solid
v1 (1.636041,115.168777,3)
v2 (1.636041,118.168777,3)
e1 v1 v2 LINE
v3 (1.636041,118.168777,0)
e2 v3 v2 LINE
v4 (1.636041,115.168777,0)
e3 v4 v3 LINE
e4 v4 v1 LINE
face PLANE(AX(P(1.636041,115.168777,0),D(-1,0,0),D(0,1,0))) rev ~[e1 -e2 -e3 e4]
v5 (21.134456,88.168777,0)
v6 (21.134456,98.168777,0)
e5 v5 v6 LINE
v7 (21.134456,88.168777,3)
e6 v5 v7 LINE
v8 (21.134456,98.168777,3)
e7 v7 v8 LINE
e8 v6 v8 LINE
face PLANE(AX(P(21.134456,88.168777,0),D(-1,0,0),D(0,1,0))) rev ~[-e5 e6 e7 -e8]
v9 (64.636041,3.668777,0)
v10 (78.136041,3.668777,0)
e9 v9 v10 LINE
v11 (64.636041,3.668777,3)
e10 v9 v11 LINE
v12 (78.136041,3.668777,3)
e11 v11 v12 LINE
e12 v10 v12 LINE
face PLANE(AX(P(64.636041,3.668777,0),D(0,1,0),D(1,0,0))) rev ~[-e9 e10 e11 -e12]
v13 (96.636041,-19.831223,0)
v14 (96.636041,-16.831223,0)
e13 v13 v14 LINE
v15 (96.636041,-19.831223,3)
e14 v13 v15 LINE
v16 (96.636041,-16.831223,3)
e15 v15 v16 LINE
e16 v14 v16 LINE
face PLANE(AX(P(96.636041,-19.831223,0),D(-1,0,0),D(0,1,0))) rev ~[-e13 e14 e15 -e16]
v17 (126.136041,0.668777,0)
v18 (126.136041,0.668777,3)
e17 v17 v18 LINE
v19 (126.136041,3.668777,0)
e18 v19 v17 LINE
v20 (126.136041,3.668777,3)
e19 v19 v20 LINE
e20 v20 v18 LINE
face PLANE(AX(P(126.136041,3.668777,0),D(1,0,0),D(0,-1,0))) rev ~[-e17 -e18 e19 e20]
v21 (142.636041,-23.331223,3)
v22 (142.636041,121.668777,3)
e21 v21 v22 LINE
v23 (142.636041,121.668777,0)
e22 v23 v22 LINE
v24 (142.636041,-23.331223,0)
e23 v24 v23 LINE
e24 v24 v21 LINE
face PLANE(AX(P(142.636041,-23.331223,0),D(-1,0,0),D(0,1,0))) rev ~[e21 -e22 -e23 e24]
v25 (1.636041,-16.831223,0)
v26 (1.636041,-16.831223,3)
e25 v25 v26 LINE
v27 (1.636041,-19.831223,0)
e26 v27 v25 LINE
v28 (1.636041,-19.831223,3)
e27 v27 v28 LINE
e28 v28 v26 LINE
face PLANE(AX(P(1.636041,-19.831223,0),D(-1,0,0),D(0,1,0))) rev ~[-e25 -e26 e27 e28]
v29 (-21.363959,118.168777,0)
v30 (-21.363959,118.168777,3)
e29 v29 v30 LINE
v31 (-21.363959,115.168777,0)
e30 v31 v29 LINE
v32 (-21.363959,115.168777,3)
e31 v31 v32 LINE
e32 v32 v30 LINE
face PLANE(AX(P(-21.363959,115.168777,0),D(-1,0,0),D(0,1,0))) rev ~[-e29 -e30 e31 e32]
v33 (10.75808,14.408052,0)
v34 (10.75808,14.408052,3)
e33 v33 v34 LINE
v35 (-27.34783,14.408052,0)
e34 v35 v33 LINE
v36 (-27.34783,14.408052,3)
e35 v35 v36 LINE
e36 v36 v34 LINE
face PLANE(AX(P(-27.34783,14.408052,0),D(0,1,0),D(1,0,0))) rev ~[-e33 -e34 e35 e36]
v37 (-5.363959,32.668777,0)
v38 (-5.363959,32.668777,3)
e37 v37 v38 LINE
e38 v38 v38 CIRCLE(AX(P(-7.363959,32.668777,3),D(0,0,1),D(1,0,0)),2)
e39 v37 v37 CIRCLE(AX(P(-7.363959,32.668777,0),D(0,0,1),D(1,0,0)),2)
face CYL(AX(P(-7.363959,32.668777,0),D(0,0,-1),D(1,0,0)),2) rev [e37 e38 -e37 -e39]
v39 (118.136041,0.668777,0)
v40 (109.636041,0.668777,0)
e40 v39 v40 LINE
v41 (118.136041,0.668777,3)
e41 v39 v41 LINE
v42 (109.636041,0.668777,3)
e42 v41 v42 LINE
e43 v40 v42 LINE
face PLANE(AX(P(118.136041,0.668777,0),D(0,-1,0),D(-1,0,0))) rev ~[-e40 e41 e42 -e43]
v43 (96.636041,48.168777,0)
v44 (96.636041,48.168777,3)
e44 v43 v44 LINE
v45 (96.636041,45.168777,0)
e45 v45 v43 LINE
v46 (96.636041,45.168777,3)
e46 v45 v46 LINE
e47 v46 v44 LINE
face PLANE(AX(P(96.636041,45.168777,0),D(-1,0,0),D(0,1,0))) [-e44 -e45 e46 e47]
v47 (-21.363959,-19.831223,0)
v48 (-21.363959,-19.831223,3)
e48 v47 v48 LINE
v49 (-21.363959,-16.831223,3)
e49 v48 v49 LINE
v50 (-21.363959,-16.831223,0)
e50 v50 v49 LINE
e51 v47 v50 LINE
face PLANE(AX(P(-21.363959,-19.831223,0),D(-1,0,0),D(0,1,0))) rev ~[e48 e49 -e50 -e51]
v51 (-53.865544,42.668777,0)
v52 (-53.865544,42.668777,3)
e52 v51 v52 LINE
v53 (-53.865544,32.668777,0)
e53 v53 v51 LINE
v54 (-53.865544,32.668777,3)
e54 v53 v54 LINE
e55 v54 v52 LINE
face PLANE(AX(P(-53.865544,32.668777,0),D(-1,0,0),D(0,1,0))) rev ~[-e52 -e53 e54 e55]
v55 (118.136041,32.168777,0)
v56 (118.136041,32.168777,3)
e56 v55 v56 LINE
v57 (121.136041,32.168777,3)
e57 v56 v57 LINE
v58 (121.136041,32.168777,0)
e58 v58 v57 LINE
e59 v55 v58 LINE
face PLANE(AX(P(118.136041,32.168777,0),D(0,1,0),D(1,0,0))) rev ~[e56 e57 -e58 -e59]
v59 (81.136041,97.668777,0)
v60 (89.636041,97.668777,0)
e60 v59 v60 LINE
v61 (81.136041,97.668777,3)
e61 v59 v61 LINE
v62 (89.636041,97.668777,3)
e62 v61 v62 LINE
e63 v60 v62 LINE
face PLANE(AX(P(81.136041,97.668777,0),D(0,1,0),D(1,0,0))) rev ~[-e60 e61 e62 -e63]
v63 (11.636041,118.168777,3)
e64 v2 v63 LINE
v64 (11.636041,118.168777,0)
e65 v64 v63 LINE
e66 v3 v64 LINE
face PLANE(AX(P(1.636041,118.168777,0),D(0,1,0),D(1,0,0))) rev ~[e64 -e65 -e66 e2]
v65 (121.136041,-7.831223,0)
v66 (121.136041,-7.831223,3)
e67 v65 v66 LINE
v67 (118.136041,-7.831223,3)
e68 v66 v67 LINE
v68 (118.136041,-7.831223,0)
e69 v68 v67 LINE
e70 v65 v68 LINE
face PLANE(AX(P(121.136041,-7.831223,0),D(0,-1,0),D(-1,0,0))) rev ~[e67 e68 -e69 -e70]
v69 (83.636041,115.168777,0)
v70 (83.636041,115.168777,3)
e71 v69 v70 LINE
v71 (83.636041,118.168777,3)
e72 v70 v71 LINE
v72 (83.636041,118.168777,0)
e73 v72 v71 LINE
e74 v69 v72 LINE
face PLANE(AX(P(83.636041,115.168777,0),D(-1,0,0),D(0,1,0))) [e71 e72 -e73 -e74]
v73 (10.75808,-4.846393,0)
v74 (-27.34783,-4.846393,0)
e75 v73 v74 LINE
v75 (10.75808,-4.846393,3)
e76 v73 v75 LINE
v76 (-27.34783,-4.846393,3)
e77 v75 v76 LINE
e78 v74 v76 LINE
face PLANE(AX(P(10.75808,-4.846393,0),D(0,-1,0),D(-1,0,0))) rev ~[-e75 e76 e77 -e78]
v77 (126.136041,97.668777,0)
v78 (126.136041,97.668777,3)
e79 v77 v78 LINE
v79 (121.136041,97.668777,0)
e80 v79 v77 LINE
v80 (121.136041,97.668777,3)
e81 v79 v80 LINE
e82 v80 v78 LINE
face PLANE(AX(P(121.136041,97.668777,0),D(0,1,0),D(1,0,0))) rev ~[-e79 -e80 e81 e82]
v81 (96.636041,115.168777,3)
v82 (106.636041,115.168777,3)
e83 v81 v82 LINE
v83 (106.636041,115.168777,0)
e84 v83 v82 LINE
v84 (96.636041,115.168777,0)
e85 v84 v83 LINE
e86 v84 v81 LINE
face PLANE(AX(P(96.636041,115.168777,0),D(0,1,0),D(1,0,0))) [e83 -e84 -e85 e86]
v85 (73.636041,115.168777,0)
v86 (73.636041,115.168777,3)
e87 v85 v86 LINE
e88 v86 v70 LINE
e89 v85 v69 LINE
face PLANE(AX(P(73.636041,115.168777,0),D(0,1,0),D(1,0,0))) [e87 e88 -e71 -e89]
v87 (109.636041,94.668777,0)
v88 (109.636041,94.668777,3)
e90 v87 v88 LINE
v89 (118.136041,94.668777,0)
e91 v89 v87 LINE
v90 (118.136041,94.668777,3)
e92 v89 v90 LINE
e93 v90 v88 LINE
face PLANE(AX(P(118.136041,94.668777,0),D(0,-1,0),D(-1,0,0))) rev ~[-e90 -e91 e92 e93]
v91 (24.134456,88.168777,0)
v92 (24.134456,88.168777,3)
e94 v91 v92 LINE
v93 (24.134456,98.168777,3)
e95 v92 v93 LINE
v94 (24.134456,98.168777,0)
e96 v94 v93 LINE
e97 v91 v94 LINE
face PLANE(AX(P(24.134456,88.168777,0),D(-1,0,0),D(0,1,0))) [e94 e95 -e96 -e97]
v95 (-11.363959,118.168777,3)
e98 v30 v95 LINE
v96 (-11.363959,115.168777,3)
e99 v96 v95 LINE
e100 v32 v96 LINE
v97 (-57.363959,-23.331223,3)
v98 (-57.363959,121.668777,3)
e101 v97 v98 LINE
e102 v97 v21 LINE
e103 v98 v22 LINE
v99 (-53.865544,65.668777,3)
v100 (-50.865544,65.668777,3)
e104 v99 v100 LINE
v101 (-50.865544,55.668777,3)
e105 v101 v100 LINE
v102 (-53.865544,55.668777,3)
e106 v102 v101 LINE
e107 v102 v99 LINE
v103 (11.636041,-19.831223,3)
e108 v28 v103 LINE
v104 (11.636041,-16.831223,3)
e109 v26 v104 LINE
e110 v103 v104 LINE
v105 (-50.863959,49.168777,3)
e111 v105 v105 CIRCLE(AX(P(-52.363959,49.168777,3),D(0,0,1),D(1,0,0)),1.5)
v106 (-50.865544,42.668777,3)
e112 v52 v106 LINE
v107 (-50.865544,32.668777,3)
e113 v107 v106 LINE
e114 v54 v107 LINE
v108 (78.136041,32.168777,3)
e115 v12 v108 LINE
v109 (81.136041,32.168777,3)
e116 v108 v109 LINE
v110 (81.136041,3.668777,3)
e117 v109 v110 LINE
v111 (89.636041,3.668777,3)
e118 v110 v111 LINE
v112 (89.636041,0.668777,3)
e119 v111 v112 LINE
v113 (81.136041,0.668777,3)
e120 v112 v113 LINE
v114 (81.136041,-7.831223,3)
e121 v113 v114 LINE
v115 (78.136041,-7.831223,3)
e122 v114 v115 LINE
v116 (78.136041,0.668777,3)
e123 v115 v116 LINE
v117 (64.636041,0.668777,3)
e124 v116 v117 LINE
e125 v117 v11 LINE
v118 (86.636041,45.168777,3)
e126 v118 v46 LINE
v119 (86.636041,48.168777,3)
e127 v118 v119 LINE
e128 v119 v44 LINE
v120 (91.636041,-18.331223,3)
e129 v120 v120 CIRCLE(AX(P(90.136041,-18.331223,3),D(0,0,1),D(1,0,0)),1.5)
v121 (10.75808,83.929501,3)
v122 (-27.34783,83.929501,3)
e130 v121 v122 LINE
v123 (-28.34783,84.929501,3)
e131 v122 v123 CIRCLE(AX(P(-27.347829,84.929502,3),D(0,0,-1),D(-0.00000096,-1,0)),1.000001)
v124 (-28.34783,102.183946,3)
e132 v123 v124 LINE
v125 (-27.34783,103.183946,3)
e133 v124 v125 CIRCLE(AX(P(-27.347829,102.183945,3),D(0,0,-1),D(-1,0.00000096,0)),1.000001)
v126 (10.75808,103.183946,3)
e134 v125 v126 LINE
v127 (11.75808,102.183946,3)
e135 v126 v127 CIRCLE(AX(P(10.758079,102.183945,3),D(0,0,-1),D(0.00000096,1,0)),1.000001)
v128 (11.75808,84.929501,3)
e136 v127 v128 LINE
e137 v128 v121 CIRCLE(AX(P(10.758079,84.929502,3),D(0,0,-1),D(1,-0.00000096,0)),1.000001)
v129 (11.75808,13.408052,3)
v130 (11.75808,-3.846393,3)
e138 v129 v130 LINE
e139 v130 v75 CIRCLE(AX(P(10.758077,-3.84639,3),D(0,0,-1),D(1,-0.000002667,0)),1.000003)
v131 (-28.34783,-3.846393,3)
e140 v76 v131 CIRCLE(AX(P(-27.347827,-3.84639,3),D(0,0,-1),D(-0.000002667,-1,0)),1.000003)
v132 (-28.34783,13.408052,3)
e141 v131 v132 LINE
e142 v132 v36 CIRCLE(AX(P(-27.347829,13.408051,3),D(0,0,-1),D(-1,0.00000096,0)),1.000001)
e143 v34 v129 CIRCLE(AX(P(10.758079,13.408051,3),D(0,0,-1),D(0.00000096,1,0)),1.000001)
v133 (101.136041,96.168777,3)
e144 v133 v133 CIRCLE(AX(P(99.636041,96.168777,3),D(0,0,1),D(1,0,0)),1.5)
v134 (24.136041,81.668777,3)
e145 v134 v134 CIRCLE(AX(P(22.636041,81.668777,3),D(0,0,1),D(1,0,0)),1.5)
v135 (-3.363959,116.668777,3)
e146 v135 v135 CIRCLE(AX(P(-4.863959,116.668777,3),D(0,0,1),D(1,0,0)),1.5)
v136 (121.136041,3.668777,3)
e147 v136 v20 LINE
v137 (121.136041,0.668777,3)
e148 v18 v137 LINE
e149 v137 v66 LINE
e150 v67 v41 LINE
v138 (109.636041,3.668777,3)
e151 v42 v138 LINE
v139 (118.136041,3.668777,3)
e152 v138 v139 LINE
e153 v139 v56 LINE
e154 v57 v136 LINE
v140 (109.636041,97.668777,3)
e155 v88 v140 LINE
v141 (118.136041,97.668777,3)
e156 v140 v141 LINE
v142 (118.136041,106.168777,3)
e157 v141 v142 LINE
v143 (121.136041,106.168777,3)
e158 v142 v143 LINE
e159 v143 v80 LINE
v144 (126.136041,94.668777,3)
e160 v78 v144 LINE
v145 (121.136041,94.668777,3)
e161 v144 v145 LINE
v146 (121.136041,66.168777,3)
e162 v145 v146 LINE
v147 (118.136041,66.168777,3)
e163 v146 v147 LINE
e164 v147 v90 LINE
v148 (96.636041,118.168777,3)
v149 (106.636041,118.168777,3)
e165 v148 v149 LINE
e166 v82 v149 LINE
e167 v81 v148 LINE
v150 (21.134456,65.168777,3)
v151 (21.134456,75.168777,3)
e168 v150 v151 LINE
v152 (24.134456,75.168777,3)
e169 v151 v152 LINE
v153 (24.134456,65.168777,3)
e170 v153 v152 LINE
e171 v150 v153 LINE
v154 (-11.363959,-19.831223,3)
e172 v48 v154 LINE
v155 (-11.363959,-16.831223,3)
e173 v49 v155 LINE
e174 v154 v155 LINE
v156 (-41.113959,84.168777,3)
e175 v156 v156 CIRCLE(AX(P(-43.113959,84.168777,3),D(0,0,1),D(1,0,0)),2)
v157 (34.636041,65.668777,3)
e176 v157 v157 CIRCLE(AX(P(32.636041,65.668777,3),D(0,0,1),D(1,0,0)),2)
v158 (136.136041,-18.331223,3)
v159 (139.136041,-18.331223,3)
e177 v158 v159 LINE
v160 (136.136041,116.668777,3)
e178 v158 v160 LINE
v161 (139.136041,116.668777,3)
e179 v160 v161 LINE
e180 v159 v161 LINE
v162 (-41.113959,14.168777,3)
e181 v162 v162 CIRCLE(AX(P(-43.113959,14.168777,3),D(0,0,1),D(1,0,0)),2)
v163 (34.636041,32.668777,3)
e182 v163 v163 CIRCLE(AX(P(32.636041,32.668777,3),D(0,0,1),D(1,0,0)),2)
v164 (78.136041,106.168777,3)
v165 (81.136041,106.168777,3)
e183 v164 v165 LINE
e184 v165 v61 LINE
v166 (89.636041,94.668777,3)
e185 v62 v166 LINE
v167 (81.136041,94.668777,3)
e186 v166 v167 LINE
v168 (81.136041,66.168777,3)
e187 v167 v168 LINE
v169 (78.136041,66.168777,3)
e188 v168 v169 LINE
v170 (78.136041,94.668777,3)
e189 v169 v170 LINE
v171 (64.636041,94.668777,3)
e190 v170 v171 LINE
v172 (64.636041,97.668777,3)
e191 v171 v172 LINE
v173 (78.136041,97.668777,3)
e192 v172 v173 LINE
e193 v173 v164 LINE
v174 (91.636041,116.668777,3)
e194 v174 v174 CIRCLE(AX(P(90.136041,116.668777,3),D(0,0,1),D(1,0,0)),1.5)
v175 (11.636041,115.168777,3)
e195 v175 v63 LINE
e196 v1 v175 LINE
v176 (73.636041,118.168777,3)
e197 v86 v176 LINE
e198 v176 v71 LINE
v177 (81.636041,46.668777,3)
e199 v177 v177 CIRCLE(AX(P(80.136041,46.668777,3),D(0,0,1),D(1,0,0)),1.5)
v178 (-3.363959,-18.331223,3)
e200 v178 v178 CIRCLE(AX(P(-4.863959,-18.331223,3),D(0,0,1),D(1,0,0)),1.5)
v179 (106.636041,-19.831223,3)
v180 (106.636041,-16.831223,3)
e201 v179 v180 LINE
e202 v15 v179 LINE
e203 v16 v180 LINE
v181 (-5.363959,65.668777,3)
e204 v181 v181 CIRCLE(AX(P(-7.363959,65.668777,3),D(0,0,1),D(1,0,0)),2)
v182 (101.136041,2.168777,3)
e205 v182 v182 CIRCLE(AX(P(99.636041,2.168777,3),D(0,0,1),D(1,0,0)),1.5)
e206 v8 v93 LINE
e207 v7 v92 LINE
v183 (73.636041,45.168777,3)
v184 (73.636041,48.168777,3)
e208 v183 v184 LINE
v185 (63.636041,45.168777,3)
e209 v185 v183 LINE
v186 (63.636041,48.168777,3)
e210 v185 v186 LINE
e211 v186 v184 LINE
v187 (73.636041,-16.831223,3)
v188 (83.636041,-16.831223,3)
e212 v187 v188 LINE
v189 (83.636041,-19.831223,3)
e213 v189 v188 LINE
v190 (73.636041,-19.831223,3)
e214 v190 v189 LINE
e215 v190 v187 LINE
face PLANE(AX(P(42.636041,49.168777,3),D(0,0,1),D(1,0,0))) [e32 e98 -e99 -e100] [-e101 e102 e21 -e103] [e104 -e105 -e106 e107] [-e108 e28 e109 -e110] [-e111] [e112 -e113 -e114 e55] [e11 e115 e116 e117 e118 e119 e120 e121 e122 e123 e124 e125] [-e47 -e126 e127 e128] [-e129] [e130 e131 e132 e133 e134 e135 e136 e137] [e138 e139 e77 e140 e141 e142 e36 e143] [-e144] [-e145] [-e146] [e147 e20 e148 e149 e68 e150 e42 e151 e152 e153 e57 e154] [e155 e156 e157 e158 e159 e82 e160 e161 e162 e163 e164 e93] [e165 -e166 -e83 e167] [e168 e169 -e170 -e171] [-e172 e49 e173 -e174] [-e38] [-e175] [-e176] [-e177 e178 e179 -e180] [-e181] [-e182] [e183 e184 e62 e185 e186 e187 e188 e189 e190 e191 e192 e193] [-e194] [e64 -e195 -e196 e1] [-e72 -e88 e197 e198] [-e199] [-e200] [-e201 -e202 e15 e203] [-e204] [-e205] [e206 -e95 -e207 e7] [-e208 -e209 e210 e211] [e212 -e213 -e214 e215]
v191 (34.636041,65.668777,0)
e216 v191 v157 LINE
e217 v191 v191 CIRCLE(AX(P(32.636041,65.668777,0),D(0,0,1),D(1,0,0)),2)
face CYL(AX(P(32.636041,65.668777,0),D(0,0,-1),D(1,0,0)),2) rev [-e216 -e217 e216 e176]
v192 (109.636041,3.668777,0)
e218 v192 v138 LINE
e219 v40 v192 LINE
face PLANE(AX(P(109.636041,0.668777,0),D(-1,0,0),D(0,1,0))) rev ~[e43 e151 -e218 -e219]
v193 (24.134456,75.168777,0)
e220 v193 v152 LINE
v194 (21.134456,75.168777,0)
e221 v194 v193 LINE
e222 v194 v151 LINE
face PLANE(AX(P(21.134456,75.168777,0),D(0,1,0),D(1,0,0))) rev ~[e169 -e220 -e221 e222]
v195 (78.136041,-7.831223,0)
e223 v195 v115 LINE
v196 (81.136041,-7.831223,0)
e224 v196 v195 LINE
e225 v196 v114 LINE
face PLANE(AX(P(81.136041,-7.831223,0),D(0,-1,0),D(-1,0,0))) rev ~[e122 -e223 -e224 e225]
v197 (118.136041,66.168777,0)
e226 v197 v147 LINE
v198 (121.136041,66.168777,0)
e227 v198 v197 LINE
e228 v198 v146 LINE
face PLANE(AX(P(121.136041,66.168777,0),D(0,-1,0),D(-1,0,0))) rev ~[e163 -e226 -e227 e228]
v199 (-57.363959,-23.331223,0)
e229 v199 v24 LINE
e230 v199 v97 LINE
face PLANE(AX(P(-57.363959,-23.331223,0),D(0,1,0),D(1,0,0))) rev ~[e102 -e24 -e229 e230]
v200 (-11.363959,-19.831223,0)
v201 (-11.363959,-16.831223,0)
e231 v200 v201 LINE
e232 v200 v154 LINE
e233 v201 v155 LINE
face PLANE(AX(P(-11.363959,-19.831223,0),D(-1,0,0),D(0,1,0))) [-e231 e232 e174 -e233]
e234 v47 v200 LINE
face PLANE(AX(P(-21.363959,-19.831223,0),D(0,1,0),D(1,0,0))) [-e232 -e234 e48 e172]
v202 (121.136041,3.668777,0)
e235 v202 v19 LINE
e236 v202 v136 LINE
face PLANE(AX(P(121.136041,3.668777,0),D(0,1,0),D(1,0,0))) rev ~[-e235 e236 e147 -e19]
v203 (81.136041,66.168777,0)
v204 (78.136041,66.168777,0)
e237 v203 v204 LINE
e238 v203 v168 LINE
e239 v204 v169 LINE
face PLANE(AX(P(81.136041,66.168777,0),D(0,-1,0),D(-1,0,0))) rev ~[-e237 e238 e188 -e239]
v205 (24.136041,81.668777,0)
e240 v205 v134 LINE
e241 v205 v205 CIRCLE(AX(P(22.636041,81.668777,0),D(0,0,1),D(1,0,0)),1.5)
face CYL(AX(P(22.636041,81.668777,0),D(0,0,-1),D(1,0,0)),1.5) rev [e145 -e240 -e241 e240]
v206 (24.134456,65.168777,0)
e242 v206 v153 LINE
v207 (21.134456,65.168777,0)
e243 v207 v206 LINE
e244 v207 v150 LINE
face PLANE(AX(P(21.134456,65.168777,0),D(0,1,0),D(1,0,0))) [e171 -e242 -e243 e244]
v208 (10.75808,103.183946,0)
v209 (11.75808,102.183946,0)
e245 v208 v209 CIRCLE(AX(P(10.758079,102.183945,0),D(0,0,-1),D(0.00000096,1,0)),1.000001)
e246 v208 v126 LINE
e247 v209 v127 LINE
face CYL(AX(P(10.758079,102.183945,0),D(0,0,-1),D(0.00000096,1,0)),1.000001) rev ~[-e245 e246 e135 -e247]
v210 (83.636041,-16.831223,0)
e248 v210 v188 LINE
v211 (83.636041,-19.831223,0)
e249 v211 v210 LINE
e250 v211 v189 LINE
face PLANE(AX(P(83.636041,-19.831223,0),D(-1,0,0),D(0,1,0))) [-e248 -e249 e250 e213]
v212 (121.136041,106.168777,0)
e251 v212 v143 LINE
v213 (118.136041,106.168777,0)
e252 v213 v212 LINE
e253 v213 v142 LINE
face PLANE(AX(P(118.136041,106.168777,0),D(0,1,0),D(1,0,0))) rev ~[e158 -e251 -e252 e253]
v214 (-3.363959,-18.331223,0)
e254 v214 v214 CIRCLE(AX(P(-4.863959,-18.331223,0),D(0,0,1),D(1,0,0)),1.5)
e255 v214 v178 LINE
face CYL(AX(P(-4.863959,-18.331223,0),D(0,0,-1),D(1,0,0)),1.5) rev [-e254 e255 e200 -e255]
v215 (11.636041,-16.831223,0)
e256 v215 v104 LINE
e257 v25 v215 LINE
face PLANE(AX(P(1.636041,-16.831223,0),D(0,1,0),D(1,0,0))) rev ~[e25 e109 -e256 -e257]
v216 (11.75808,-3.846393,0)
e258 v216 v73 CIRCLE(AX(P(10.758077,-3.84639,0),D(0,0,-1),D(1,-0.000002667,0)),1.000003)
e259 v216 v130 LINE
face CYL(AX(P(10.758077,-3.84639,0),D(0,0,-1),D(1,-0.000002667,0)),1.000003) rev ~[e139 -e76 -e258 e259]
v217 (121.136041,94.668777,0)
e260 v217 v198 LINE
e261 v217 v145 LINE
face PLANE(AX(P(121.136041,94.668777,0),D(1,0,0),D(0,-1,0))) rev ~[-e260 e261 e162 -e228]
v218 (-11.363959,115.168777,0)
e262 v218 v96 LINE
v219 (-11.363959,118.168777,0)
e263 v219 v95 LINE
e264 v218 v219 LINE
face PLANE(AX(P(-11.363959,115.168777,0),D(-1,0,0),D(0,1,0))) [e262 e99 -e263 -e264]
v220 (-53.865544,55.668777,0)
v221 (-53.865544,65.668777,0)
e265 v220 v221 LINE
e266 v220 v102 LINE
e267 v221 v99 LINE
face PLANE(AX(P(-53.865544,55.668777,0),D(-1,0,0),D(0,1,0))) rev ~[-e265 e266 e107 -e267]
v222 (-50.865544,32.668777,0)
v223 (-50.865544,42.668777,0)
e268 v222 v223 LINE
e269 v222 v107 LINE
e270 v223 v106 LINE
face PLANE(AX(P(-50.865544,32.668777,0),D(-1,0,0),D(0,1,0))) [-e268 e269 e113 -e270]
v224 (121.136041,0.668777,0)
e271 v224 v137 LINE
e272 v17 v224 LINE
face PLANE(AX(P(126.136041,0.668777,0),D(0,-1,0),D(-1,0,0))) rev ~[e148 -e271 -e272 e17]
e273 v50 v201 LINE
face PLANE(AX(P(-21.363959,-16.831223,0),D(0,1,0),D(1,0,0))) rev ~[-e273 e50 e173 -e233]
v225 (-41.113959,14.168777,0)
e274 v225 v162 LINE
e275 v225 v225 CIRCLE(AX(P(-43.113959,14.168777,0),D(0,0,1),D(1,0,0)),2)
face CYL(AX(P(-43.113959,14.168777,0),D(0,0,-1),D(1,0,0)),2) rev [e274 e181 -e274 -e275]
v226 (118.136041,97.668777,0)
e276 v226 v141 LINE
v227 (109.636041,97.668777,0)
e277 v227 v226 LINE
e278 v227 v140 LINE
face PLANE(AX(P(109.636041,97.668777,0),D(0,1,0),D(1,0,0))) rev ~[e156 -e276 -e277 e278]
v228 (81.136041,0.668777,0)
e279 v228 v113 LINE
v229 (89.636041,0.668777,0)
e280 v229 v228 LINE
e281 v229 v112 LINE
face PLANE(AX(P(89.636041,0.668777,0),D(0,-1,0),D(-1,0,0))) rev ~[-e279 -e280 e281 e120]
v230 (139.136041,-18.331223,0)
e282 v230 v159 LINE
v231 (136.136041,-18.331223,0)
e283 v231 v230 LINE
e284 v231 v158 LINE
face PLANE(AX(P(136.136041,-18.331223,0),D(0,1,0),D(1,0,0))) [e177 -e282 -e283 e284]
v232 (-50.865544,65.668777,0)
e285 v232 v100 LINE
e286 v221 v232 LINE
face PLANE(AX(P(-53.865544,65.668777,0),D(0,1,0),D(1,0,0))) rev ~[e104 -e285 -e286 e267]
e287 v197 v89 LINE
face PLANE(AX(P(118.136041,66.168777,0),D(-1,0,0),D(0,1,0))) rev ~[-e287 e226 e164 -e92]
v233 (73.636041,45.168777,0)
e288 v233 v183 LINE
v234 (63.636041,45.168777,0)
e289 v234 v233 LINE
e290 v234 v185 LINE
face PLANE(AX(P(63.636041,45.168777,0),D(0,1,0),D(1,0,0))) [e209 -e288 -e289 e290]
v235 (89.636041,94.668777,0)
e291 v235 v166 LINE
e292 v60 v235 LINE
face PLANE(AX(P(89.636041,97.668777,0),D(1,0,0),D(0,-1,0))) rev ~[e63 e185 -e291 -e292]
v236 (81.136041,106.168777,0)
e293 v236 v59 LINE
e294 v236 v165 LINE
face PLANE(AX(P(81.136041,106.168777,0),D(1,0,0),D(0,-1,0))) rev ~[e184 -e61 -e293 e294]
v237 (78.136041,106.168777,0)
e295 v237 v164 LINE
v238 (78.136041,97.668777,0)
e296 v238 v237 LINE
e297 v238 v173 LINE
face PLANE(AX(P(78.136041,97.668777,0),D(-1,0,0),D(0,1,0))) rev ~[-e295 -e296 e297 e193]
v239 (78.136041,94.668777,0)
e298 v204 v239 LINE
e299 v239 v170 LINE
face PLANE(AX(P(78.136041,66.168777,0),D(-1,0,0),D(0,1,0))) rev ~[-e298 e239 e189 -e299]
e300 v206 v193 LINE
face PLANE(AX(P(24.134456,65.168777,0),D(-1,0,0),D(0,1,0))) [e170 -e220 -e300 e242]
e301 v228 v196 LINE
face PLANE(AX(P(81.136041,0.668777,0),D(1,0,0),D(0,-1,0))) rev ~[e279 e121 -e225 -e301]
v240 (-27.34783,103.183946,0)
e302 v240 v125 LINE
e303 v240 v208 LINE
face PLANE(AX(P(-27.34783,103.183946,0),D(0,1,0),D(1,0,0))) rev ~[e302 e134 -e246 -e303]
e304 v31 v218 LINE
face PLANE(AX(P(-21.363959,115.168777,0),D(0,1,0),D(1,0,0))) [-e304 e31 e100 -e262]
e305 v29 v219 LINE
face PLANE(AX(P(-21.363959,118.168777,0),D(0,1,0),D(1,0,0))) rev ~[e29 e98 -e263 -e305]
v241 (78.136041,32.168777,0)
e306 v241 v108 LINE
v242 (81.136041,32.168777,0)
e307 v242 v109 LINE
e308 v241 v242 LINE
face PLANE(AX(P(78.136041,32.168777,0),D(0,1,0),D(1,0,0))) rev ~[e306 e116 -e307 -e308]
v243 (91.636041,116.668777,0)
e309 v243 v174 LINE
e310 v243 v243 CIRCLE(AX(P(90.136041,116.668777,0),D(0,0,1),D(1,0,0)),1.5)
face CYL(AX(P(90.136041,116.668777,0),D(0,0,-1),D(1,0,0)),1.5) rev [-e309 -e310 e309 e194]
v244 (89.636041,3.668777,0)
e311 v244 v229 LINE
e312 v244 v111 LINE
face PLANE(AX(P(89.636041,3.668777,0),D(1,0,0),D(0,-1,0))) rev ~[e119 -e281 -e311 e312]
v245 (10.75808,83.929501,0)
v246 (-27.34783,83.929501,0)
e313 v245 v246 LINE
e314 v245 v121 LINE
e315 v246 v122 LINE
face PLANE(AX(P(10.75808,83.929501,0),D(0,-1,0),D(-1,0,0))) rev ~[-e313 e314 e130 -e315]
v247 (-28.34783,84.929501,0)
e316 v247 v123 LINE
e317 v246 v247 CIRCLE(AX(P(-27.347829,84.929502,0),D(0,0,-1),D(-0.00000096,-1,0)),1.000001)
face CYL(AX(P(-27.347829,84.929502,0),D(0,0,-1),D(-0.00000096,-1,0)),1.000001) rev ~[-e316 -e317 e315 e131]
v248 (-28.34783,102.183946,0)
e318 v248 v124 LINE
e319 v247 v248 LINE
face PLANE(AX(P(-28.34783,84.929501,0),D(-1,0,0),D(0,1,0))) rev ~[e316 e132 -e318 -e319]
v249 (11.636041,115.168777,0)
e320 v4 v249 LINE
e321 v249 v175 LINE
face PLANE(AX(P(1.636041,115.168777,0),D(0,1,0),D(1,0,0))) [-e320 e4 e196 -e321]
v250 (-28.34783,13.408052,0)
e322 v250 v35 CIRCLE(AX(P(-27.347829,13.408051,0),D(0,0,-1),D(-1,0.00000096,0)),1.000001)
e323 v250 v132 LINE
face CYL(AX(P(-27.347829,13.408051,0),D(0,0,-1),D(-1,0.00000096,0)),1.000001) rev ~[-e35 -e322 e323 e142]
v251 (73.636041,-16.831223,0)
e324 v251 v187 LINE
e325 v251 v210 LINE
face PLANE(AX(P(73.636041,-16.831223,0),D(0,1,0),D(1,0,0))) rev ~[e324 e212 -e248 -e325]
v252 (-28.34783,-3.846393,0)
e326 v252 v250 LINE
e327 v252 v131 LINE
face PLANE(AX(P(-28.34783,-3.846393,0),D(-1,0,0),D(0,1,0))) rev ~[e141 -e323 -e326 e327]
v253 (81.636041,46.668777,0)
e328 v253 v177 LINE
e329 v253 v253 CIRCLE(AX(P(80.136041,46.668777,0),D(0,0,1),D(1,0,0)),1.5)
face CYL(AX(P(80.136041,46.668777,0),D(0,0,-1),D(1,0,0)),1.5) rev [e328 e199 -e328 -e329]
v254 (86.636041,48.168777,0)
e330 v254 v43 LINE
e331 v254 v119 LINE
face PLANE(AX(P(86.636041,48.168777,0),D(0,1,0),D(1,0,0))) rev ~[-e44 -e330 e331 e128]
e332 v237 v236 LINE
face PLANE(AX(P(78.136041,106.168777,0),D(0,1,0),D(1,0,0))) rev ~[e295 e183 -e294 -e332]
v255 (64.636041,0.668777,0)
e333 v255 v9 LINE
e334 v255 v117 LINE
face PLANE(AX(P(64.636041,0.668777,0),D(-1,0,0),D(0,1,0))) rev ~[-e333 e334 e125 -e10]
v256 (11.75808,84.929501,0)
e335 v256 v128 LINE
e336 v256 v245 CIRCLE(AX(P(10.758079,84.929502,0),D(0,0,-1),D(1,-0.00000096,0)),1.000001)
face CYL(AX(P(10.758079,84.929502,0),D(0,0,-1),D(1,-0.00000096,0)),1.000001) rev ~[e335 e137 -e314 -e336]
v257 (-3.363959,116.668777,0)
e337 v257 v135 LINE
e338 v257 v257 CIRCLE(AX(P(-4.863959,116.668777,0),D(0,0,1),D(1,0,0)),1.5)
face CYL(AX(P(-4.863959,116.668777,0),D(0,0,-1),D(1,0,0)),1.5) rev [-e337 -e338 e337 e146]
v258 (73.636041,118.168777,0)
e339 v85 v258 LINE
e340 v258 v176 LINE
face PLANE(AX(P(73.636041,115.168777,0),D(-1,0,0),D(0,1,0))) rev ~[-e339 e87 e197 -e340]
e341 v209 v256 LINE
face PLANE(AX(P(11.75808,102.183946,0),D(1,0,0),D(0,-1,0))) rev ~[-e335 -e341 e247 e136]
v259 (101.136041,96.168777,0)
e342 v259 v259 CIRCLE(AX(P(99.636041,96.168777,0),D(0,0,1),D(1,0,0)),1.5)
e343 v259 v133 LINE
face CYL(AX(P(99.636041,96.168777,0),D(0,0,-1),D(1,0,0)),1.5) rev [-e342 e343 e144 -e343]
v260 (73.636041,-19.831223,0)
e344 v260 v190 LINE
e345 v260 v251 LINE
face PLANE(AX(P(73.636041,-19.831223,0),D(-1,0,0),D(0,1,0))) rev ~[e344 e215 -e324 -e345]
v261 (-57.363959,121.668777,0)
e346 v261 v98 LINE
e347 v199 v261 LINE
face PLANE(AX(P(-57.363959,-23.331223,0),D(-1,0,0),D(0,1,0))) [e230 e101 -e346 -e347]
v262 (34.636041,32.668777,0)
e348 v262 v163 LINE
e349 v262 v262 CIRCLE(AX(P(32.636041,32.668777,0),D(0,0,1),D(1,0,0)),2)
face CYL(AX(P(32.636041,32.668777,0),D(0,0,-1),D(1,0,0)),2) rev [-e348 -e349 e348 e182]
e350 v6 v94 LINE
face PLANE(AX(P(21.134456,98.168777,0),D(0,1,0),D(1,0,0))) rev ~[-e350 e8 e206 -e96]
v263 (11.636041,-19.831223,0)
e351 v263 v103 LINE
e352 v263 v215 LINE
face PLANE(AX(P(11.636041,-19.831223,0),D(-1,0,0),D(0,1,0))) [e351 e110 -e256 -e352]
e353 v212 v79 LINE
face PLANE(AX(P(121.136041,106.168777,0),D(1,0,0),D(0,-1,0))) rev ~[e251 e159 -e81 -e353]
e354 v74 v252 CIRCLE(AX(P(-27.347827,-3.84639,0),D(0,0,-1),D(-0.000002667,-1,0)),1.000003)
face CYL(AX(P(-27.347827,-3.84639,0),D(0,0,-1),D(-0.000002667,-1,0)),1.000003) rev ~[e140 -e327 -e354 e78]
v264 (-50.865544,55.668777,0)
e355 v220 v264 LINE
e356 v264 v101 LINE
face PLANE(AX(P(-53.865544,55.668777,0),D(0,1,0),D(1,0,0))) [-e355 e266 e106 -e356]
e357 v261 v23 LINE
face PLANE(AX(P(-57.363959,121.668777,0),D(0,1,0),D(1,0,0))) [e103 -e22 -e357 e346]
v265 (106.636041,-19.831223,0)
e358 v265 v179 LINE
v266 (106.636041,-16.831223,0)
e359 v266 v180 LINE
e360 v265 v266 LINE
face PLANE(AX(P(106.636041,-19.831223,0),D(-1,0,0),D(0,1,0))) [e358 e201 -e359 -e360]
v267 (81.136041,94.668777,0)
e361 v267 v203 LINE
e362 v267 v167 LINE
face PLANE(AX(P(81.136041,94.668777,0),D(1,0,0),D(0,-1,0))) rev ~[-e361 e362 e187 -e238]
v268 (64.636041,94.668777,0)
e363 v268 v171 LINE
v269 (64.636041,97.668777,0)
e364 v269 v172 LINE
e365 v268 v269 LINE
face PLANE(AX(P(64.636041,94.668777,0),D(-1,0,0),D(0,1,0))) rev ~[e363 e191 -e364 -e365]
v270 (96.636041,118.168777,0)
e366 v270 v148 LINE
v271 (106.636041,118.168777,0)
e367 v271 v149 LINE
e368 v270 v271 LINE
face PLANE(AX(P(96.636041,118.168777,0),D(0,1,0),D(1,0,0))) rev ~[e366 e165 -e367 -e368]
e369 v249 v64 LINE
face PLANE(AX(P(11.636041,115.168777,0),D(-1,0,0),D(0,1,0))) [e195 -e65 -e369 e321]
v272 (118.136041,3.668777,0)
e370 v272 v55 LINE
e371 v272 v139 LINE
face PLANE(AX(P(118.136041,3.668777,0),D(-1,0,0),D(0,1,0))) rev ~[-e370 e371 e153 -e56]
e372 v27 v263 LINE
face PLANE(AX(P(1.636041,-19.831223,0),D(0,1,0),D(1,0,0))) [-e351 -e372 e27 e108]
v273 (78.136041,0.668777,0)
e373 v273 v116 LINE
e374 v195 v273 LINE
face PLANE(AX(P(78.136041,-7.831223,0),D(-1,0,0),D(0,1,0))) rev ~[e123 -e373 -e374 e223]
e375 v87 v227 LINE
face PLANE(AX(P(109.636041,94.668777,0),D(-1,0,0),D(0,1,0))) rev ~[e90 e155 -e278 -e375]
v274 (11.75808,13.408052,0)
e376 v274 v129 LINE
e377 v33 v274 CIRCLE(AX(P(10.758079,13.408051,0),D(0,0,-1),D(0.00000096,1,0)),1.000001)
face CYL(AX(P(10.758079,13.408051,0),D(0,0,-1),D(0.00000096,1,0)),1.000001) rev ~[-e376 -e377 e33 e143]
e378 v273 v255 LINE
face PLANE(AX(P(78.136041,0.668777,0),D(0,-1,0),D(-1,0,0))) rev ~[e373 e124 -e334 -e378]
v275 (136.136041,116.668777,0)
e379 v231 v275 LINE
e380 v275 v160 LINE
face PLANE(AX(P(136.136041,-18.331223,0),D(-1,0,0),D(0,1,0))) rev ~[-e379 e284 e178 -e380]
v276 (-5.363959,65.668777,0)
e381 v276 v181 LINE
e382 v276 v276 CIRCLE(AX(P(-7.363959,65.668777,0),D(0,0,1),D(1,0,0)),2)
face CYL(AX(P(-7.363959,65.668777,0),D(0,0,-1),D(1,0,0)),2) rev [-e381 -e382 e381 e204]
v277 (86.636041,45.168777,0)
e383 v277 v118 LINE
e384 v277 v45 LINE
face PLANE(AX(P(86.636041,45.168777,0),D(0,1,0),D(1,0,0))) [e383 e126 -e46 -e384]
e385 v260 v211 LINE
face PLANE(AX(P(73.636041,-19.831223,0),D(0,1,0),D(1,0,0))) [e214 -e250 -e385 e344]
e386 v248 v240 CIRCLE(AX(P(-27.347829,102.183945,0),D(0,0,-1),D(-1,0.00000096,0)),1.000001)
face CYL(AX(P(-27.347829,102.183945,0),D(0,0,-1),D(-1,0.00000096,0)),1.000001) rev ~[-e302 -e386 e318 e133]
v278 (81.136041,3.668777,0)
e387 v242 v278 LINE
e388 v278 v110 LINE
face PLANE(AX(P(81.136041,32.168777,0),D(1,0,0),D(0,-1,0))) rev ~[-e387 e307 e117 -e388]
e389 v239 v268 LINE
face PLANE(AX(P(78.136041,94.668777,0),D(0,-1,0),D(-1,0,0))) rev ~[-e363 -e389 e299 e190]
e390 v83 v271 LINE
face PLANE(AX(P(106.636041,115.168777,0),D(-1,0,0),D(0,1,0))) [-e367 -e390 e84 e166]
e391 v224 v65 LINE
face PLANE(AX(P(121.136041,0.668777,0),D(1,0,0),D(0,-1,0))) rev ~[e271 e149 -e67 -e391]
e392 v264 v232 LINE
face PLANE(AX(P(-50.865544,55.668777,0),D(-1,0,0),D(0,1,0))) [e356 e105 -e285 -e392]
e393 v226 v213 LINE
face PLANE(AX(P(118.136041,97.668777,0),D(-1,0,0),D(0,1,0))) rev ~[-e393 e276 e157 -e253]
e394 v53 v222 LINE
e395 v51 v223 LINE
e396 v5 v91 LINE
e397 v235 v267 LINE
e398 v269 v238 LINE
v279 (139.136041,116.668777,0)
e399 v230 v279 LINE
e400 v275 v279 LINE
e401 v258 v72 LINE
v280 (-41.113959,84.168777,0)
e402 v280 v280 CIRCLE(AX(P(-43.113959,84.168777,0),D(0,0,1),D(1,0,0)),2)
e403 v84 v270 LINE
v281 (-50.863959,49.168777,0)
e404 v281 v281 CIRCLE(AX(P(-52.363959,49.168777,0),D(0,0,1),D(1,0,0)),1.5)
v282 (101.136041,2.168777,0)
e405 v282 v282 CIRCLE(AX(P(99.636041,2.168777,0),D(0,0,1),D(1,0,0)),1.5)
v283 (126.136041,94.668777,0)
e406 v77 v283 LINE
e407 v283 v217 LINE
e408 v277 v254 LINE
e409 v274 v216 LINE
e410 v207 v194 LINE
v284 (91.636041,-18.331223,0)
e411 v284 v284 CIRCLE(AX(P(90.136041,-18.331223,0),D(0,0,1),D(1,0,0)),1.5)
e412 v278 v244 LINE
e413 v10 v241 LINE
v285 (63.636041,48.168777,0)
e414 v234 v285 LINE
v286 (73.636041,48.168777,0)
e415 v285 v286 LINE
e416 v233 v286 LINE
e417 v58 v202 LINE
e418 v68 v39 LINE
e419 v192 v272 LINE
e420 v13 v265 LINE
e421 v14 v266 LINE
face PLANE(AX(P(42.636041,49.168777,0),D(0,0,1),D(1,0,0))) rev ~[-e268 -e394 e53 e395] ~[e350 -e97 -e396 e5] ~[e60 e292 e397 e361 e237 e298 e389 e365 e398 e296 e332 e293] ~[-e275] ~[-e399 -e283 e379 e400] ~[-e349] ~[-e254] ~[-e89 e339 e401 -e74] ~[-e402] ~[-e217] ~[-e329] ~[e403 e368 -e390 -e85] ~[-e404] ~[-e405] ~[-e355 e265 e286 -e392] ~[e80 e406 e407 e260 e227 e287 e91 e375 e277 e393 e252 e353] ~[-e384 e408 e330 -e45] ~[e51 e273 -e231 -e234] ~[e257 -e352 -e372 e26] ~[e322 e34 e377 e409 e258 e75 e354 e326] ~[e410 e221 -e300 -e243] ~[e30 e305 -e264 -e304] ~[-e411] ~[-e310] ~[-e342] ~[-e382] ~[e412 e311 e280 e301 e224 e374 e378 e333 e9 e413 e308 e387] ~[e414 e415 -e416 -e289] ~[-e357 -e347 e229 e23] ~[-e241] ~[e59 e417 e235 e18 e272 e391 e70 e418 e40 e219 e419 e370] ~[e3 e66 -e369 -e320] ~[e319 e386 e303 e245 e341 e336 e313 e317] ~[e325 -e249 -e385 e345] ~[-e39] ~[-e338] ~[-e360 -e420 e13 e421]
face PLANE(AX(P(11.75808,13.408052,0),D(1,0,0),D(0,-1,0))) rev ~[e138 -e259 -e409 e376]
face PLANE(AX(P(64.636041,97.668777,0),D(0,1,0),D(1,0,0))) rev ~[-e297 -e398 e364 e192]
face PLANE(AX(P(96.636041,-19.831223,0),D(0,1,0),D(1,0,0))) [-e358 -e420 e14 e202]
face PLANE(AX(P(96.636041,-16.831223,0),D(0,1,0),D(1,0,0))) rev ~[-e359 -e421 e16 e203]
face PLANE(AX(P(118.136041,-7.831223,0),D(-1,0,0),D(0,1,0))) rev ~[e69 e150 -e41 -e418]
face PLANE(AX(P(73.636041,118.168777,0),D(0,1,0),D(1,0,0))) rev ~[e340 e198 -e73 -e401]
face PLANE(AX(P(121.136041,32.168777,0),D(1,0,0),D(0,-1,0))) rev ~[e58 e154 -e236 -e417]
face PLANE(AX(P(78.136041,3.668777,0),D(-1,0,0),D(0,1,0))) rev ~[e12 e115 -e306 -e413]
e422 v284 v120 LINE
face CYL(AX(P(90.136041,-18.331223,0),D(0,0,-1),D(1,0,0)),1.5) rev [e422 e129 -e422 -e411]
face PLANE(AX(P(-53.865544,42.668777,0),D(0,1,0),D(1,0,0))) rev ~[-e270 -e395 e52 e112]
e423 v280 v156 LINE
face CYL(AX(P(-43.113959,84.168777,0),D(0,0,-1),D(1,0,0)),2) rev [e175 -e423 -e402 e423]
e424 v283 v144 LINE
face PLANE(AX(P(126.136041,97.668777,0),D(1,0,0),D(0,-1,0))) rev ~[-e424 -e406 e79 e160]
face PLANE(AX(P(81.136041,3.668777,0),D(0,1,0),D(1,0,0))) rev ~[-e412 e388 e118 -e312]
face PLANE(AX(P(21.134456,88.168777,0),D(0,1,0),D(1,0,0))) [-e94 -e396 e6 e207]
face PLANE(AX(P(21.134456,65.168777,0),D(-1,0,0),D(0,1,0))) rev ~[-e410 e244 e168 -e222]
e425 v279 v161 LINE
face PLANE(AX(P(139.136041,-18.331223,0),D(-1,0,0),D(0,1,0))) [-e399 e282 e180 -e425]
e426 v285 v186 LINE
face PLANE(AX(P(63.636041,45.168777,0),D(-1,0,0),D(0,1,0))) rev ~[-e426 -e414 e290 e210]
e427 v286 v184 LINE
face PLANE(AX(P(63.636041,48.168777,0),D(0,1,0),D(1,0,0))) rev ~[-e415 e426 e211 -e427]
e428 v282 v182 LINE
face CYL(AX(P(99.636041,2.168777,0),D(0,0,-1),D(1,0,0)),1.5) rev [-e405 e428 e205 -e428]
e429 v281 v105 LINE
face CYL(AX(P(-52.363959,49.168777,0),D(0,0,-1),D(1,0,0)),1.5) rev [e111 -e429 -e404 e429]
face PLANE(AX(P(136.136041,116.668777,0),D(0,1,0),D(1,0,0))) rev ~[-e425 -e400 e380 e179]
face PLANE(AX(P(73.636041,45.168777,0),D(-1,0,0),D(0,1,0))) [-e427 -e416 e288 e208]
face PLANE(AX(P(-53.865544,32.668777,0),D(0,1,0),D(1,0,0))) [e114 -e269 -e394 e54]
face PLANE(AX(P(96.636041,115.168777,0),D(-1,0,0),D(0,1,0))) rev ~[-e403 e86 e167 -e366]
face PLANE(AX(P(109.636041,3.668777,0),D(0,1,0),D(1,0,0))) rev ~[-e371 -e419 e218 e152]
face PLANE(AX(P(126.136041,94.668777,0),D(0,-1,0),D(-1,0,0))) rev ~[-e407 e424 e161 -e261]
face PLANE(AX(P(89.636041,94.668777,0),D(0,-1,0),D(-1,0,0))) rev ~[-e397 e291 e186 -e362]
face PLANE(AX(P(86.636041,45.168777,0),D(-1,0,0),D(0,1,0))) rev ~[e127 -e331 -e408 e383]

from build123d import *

# Parameters (mm, degrees)
F0_W     = 200
F0_H     = 145
F0_R     = 2
F0_W_2   = 10
F0_H_2   = 3
F0_R_2   = 1.5
F0_W_3   = 3
F0_H_3   = 10
F0_H_4   = 135
F1_DEPTH = 3


with BuildPart() as f1:
    # F0 (on Top) → F1 (new body)
    with BuildSketch(Plane.XY):
        with Locations((42.636041, 49.168777)):
            Rectangle(F0_W, F0_H)
        with Locations((-43.113959, 14.168777)):
            Circle(F0_R, mode=Mode.SUBTRACT)
        with Locations((-16.363959, -18.331223)):
            Rectangle(F0_W_2, F0_H_2, mode=Mode.SUBTRACT)
        with Locations((-4.863959, -18.331223)):
            Circle(F0_R_2, mode=Mode.SUBTRACT)
        with Locations((6.636041, -18.331223)):
            Rectangle(F0_W_2, F0_H_2, mode=Mode.SUBTRACT)
        with BuildLine():
            ThreePointArc((-28.34783, 13.408052), (-28.054936, 14.115159), (-27.34783, 14.408052))
            Line((-27.34783, 14.408052), (10.75808, 14.408052))
            ThreePointArc((10.75808, 14.408052), (11.465186, 14.115159), (11.75808, 13.408052))
            Line((11.75808, 13.408052), (11.75808, -3.846393))
            ThreePointArc((11.75808, -3.846393), (11.465186, -4.553499), (10.75808, -4.846393))
            Line((10.75808, -4.846393), (-27.34783, -4.846393))
            ThreePointArc((-27.34783, -4.846393), (-28.054936, -4.553499), (-28.34783, -3.846393))
            Line((-28.34783, -3.846393), (-28.34783, 13.408052))
        make_face(mode=Mode.SUBTRACT)
        with Locations((-52.365544, 37.668777)):
            Rectangle(F0_W_3, F0_H_3, mode=Mode.SUBTRACT)
        with Locations((-52.363959, 49.168777)):
            Circle(F0_R_2, mode=Mode.SUBTRACT)
        with Locations((-7.363959, 32.668777)):
            Circle(F0_R, mode=Mode.SUBTRACT)
        with Locations((78.636041, -18.331223)):
            Rectangle(F0_W_2, F0_H_2, mode=Mode.SUBTRACT)
        with Locations((90.136041, -18.331223)):
            Circle(F0_R_2, mode=Mode.SUBTRACT)
        Polygon((78.136041, 32.168777), (81.136041, 32.168777), (81.136041, 3.668777), (89.636041, 3.668777), (89.636041, 0.668777), (81.136041, 0.668777), (81.136041, -7.831223), (78.136041, -7.831223), (78.136041, 0.668777), (64.636041, 0.668777), (64.636041, 3.668777), (78.136041, 3.668777), align=None, mode=Mode.SUBTRACT)
        with Locations((32.636041, 32.668777)):
            Circle(F0_R, mode=Mode.SUBTRACT)
        with Locations((68.636041, 46.668777)):
            Rectangle(F0_W_2, F0_H_2, mode=Mode.SUBTRACT)
        with Locations((80.136041, 46.668777)):
            Circle(F0_R_2, mode=Mode.SUBTRACT)
        with Locations((-52.365544, 60.668777)):
            Rectangle(F0_W_3, F0_H_3, mode=Mode.SUBTRACT)
        with Locations((-43.113959, 84.168777)):
            Circle(F0_R, mode=Mode.SUBTRACT)
        with Locations((-7.363959, 65.668777)):
            Circle(F0_R, mode=Mode.SUBTRACT)
        with BuildLine():
            Line((-27.34783, 103.183946), (10.75808, 103.183946))
            ThreePointArc((10.75808, 103.183946), (11.465186, 102.891053), (11.75808, 102.183946))
            Line((11.75808, 102.183946), (11.75808, 84.929501))
            ThreePointArc((11.75808, 84.929501), (11.465186, 84.222394), (10.75808, 83.929501))
            Line((10.75808, 83.929501), (-27.34783, 83.929501))
            ThreePointArc((-27.34783, 83.929501), (-28.054936, 84.222394), (-28.34783, 84.929501))
            Line((-28.34783, 84.929501), (-28.34783, 102.183946))
            ThreePointArc((-28.34783, 102.183946), (-28.054936, 102.891053), (-27.34783, 103.183946))
        make_face(mode=Mode.SUBTRACT)
        with Locations((-16.363959, 116.668777)):
            Rectangle(F0_W_2, F0_H_2, mode=Mode.SUBTRACT)
        with Locations((-4.863959, 116.668777)):
            Circle(F0_R_2, mode=Mode.SUBTRACT)
        with Locations((6.636041, 116.668777)):
            Rectangle(F0_W_2, F0_H_2, mode=Mode.SUBTRACT)
        with Locations((22.634456, 70.168777)):
            Rectangle(F0_W_3, F0_H_3, mode=Mode.SUBTRACT)
        with Locations((32.636041, 65.668777)):
            Circle(F0_R, mode=Mode.SUBTRACT)
        with Locations((22.636041, 81.668777)):
            Circle(F0_R_2, mode=Mode.SUBTRACT)
        Polygon((81.136041, 94.668777), (81.136041, 66.168777), (78.136041, 66.168777), (78.136041, 94.668777), (64.636041, 94.668777), (64.636041, 97.668777), (78.136041, 97.668777), (78.136041, 106.168777), (81.136041, 106.168777), (81.136041, 97.668777), (89.636041, 97.668777), (89.636041, 94.668777), align=None, mode=Mode.SUBTRACT)
        with Locations((22.634456, 93.168777)):
            Rectangle(F0_W_3, F0_H_3, mode=Mode.SUBTRACT)
        with Locations((78.636041, 116.668777)):
            Rectangle(F0_W_2, F0_H_2, mode=Mode.SUBTRACT)
        with Locations((90.136041, 116.668777)):
            Circle(F0_R_2, mode=Mode.SUBTRACT)
        with Locations((101.636041, -18.331223)):
            Rectangle(F0_W_2, F0_H_2, mode=Mode.SUBTRACT)
        with Locations((99.636041, 2.168777)):
            Circle(F0_R_2, mode=Mode.SUBTRACT)
        Polygon((118.136041, 3.668777), (118.136041, 32.168777), (121.136041, 32.168777), (121.136041, 3.668777), (126.136041, 3.668777), (126.136041, 0.668777), (121.136041, 0.668777), (121.136041, -7.831223), (118.136041, -7.831223), (118.136041, 0.668777), (109.636041, 0.668777), (109.636041, 3.668777), align=None, mode=Mode.SUBTRACT)
        with Locations((91.636041, 46.668777)):
            Rectangle(F0_W_2, F0_H_2, mode=Mode.SUBTRACT)
        with Locations((137.636041, 49.168777)):
            Rectangle(F0_W_3, F0_H_4, mode=Mode.SUBTRACT)
        Polygon((118.136041, 97.668777), (118.136041, 106.168777), (121.136041, 106.168777), (121.136041, 97.668777), (126.136041, 97.668777), (126.136041, 94.668777), (121.136041, 94.668777), (121.136041, 66.168777), (118.136041, 66.168777), (118.136041, 94.668777), (109.636041, 94.668777), (109.636041, 97.668777), align=None, mode=Mode.SUBTRACT)
        with Locations((99.636041, 96.168777)):
            Circle(F0_R_2, mode=Mode.SUBTRACT)
        with Locations((101.636041, 116.668777)):
            Rectangle(F0_W_2, F0_H_2, mode=Mode.SUBTRACT)
    extrude(amount=F1_DEPTH)


solid = f1.part
